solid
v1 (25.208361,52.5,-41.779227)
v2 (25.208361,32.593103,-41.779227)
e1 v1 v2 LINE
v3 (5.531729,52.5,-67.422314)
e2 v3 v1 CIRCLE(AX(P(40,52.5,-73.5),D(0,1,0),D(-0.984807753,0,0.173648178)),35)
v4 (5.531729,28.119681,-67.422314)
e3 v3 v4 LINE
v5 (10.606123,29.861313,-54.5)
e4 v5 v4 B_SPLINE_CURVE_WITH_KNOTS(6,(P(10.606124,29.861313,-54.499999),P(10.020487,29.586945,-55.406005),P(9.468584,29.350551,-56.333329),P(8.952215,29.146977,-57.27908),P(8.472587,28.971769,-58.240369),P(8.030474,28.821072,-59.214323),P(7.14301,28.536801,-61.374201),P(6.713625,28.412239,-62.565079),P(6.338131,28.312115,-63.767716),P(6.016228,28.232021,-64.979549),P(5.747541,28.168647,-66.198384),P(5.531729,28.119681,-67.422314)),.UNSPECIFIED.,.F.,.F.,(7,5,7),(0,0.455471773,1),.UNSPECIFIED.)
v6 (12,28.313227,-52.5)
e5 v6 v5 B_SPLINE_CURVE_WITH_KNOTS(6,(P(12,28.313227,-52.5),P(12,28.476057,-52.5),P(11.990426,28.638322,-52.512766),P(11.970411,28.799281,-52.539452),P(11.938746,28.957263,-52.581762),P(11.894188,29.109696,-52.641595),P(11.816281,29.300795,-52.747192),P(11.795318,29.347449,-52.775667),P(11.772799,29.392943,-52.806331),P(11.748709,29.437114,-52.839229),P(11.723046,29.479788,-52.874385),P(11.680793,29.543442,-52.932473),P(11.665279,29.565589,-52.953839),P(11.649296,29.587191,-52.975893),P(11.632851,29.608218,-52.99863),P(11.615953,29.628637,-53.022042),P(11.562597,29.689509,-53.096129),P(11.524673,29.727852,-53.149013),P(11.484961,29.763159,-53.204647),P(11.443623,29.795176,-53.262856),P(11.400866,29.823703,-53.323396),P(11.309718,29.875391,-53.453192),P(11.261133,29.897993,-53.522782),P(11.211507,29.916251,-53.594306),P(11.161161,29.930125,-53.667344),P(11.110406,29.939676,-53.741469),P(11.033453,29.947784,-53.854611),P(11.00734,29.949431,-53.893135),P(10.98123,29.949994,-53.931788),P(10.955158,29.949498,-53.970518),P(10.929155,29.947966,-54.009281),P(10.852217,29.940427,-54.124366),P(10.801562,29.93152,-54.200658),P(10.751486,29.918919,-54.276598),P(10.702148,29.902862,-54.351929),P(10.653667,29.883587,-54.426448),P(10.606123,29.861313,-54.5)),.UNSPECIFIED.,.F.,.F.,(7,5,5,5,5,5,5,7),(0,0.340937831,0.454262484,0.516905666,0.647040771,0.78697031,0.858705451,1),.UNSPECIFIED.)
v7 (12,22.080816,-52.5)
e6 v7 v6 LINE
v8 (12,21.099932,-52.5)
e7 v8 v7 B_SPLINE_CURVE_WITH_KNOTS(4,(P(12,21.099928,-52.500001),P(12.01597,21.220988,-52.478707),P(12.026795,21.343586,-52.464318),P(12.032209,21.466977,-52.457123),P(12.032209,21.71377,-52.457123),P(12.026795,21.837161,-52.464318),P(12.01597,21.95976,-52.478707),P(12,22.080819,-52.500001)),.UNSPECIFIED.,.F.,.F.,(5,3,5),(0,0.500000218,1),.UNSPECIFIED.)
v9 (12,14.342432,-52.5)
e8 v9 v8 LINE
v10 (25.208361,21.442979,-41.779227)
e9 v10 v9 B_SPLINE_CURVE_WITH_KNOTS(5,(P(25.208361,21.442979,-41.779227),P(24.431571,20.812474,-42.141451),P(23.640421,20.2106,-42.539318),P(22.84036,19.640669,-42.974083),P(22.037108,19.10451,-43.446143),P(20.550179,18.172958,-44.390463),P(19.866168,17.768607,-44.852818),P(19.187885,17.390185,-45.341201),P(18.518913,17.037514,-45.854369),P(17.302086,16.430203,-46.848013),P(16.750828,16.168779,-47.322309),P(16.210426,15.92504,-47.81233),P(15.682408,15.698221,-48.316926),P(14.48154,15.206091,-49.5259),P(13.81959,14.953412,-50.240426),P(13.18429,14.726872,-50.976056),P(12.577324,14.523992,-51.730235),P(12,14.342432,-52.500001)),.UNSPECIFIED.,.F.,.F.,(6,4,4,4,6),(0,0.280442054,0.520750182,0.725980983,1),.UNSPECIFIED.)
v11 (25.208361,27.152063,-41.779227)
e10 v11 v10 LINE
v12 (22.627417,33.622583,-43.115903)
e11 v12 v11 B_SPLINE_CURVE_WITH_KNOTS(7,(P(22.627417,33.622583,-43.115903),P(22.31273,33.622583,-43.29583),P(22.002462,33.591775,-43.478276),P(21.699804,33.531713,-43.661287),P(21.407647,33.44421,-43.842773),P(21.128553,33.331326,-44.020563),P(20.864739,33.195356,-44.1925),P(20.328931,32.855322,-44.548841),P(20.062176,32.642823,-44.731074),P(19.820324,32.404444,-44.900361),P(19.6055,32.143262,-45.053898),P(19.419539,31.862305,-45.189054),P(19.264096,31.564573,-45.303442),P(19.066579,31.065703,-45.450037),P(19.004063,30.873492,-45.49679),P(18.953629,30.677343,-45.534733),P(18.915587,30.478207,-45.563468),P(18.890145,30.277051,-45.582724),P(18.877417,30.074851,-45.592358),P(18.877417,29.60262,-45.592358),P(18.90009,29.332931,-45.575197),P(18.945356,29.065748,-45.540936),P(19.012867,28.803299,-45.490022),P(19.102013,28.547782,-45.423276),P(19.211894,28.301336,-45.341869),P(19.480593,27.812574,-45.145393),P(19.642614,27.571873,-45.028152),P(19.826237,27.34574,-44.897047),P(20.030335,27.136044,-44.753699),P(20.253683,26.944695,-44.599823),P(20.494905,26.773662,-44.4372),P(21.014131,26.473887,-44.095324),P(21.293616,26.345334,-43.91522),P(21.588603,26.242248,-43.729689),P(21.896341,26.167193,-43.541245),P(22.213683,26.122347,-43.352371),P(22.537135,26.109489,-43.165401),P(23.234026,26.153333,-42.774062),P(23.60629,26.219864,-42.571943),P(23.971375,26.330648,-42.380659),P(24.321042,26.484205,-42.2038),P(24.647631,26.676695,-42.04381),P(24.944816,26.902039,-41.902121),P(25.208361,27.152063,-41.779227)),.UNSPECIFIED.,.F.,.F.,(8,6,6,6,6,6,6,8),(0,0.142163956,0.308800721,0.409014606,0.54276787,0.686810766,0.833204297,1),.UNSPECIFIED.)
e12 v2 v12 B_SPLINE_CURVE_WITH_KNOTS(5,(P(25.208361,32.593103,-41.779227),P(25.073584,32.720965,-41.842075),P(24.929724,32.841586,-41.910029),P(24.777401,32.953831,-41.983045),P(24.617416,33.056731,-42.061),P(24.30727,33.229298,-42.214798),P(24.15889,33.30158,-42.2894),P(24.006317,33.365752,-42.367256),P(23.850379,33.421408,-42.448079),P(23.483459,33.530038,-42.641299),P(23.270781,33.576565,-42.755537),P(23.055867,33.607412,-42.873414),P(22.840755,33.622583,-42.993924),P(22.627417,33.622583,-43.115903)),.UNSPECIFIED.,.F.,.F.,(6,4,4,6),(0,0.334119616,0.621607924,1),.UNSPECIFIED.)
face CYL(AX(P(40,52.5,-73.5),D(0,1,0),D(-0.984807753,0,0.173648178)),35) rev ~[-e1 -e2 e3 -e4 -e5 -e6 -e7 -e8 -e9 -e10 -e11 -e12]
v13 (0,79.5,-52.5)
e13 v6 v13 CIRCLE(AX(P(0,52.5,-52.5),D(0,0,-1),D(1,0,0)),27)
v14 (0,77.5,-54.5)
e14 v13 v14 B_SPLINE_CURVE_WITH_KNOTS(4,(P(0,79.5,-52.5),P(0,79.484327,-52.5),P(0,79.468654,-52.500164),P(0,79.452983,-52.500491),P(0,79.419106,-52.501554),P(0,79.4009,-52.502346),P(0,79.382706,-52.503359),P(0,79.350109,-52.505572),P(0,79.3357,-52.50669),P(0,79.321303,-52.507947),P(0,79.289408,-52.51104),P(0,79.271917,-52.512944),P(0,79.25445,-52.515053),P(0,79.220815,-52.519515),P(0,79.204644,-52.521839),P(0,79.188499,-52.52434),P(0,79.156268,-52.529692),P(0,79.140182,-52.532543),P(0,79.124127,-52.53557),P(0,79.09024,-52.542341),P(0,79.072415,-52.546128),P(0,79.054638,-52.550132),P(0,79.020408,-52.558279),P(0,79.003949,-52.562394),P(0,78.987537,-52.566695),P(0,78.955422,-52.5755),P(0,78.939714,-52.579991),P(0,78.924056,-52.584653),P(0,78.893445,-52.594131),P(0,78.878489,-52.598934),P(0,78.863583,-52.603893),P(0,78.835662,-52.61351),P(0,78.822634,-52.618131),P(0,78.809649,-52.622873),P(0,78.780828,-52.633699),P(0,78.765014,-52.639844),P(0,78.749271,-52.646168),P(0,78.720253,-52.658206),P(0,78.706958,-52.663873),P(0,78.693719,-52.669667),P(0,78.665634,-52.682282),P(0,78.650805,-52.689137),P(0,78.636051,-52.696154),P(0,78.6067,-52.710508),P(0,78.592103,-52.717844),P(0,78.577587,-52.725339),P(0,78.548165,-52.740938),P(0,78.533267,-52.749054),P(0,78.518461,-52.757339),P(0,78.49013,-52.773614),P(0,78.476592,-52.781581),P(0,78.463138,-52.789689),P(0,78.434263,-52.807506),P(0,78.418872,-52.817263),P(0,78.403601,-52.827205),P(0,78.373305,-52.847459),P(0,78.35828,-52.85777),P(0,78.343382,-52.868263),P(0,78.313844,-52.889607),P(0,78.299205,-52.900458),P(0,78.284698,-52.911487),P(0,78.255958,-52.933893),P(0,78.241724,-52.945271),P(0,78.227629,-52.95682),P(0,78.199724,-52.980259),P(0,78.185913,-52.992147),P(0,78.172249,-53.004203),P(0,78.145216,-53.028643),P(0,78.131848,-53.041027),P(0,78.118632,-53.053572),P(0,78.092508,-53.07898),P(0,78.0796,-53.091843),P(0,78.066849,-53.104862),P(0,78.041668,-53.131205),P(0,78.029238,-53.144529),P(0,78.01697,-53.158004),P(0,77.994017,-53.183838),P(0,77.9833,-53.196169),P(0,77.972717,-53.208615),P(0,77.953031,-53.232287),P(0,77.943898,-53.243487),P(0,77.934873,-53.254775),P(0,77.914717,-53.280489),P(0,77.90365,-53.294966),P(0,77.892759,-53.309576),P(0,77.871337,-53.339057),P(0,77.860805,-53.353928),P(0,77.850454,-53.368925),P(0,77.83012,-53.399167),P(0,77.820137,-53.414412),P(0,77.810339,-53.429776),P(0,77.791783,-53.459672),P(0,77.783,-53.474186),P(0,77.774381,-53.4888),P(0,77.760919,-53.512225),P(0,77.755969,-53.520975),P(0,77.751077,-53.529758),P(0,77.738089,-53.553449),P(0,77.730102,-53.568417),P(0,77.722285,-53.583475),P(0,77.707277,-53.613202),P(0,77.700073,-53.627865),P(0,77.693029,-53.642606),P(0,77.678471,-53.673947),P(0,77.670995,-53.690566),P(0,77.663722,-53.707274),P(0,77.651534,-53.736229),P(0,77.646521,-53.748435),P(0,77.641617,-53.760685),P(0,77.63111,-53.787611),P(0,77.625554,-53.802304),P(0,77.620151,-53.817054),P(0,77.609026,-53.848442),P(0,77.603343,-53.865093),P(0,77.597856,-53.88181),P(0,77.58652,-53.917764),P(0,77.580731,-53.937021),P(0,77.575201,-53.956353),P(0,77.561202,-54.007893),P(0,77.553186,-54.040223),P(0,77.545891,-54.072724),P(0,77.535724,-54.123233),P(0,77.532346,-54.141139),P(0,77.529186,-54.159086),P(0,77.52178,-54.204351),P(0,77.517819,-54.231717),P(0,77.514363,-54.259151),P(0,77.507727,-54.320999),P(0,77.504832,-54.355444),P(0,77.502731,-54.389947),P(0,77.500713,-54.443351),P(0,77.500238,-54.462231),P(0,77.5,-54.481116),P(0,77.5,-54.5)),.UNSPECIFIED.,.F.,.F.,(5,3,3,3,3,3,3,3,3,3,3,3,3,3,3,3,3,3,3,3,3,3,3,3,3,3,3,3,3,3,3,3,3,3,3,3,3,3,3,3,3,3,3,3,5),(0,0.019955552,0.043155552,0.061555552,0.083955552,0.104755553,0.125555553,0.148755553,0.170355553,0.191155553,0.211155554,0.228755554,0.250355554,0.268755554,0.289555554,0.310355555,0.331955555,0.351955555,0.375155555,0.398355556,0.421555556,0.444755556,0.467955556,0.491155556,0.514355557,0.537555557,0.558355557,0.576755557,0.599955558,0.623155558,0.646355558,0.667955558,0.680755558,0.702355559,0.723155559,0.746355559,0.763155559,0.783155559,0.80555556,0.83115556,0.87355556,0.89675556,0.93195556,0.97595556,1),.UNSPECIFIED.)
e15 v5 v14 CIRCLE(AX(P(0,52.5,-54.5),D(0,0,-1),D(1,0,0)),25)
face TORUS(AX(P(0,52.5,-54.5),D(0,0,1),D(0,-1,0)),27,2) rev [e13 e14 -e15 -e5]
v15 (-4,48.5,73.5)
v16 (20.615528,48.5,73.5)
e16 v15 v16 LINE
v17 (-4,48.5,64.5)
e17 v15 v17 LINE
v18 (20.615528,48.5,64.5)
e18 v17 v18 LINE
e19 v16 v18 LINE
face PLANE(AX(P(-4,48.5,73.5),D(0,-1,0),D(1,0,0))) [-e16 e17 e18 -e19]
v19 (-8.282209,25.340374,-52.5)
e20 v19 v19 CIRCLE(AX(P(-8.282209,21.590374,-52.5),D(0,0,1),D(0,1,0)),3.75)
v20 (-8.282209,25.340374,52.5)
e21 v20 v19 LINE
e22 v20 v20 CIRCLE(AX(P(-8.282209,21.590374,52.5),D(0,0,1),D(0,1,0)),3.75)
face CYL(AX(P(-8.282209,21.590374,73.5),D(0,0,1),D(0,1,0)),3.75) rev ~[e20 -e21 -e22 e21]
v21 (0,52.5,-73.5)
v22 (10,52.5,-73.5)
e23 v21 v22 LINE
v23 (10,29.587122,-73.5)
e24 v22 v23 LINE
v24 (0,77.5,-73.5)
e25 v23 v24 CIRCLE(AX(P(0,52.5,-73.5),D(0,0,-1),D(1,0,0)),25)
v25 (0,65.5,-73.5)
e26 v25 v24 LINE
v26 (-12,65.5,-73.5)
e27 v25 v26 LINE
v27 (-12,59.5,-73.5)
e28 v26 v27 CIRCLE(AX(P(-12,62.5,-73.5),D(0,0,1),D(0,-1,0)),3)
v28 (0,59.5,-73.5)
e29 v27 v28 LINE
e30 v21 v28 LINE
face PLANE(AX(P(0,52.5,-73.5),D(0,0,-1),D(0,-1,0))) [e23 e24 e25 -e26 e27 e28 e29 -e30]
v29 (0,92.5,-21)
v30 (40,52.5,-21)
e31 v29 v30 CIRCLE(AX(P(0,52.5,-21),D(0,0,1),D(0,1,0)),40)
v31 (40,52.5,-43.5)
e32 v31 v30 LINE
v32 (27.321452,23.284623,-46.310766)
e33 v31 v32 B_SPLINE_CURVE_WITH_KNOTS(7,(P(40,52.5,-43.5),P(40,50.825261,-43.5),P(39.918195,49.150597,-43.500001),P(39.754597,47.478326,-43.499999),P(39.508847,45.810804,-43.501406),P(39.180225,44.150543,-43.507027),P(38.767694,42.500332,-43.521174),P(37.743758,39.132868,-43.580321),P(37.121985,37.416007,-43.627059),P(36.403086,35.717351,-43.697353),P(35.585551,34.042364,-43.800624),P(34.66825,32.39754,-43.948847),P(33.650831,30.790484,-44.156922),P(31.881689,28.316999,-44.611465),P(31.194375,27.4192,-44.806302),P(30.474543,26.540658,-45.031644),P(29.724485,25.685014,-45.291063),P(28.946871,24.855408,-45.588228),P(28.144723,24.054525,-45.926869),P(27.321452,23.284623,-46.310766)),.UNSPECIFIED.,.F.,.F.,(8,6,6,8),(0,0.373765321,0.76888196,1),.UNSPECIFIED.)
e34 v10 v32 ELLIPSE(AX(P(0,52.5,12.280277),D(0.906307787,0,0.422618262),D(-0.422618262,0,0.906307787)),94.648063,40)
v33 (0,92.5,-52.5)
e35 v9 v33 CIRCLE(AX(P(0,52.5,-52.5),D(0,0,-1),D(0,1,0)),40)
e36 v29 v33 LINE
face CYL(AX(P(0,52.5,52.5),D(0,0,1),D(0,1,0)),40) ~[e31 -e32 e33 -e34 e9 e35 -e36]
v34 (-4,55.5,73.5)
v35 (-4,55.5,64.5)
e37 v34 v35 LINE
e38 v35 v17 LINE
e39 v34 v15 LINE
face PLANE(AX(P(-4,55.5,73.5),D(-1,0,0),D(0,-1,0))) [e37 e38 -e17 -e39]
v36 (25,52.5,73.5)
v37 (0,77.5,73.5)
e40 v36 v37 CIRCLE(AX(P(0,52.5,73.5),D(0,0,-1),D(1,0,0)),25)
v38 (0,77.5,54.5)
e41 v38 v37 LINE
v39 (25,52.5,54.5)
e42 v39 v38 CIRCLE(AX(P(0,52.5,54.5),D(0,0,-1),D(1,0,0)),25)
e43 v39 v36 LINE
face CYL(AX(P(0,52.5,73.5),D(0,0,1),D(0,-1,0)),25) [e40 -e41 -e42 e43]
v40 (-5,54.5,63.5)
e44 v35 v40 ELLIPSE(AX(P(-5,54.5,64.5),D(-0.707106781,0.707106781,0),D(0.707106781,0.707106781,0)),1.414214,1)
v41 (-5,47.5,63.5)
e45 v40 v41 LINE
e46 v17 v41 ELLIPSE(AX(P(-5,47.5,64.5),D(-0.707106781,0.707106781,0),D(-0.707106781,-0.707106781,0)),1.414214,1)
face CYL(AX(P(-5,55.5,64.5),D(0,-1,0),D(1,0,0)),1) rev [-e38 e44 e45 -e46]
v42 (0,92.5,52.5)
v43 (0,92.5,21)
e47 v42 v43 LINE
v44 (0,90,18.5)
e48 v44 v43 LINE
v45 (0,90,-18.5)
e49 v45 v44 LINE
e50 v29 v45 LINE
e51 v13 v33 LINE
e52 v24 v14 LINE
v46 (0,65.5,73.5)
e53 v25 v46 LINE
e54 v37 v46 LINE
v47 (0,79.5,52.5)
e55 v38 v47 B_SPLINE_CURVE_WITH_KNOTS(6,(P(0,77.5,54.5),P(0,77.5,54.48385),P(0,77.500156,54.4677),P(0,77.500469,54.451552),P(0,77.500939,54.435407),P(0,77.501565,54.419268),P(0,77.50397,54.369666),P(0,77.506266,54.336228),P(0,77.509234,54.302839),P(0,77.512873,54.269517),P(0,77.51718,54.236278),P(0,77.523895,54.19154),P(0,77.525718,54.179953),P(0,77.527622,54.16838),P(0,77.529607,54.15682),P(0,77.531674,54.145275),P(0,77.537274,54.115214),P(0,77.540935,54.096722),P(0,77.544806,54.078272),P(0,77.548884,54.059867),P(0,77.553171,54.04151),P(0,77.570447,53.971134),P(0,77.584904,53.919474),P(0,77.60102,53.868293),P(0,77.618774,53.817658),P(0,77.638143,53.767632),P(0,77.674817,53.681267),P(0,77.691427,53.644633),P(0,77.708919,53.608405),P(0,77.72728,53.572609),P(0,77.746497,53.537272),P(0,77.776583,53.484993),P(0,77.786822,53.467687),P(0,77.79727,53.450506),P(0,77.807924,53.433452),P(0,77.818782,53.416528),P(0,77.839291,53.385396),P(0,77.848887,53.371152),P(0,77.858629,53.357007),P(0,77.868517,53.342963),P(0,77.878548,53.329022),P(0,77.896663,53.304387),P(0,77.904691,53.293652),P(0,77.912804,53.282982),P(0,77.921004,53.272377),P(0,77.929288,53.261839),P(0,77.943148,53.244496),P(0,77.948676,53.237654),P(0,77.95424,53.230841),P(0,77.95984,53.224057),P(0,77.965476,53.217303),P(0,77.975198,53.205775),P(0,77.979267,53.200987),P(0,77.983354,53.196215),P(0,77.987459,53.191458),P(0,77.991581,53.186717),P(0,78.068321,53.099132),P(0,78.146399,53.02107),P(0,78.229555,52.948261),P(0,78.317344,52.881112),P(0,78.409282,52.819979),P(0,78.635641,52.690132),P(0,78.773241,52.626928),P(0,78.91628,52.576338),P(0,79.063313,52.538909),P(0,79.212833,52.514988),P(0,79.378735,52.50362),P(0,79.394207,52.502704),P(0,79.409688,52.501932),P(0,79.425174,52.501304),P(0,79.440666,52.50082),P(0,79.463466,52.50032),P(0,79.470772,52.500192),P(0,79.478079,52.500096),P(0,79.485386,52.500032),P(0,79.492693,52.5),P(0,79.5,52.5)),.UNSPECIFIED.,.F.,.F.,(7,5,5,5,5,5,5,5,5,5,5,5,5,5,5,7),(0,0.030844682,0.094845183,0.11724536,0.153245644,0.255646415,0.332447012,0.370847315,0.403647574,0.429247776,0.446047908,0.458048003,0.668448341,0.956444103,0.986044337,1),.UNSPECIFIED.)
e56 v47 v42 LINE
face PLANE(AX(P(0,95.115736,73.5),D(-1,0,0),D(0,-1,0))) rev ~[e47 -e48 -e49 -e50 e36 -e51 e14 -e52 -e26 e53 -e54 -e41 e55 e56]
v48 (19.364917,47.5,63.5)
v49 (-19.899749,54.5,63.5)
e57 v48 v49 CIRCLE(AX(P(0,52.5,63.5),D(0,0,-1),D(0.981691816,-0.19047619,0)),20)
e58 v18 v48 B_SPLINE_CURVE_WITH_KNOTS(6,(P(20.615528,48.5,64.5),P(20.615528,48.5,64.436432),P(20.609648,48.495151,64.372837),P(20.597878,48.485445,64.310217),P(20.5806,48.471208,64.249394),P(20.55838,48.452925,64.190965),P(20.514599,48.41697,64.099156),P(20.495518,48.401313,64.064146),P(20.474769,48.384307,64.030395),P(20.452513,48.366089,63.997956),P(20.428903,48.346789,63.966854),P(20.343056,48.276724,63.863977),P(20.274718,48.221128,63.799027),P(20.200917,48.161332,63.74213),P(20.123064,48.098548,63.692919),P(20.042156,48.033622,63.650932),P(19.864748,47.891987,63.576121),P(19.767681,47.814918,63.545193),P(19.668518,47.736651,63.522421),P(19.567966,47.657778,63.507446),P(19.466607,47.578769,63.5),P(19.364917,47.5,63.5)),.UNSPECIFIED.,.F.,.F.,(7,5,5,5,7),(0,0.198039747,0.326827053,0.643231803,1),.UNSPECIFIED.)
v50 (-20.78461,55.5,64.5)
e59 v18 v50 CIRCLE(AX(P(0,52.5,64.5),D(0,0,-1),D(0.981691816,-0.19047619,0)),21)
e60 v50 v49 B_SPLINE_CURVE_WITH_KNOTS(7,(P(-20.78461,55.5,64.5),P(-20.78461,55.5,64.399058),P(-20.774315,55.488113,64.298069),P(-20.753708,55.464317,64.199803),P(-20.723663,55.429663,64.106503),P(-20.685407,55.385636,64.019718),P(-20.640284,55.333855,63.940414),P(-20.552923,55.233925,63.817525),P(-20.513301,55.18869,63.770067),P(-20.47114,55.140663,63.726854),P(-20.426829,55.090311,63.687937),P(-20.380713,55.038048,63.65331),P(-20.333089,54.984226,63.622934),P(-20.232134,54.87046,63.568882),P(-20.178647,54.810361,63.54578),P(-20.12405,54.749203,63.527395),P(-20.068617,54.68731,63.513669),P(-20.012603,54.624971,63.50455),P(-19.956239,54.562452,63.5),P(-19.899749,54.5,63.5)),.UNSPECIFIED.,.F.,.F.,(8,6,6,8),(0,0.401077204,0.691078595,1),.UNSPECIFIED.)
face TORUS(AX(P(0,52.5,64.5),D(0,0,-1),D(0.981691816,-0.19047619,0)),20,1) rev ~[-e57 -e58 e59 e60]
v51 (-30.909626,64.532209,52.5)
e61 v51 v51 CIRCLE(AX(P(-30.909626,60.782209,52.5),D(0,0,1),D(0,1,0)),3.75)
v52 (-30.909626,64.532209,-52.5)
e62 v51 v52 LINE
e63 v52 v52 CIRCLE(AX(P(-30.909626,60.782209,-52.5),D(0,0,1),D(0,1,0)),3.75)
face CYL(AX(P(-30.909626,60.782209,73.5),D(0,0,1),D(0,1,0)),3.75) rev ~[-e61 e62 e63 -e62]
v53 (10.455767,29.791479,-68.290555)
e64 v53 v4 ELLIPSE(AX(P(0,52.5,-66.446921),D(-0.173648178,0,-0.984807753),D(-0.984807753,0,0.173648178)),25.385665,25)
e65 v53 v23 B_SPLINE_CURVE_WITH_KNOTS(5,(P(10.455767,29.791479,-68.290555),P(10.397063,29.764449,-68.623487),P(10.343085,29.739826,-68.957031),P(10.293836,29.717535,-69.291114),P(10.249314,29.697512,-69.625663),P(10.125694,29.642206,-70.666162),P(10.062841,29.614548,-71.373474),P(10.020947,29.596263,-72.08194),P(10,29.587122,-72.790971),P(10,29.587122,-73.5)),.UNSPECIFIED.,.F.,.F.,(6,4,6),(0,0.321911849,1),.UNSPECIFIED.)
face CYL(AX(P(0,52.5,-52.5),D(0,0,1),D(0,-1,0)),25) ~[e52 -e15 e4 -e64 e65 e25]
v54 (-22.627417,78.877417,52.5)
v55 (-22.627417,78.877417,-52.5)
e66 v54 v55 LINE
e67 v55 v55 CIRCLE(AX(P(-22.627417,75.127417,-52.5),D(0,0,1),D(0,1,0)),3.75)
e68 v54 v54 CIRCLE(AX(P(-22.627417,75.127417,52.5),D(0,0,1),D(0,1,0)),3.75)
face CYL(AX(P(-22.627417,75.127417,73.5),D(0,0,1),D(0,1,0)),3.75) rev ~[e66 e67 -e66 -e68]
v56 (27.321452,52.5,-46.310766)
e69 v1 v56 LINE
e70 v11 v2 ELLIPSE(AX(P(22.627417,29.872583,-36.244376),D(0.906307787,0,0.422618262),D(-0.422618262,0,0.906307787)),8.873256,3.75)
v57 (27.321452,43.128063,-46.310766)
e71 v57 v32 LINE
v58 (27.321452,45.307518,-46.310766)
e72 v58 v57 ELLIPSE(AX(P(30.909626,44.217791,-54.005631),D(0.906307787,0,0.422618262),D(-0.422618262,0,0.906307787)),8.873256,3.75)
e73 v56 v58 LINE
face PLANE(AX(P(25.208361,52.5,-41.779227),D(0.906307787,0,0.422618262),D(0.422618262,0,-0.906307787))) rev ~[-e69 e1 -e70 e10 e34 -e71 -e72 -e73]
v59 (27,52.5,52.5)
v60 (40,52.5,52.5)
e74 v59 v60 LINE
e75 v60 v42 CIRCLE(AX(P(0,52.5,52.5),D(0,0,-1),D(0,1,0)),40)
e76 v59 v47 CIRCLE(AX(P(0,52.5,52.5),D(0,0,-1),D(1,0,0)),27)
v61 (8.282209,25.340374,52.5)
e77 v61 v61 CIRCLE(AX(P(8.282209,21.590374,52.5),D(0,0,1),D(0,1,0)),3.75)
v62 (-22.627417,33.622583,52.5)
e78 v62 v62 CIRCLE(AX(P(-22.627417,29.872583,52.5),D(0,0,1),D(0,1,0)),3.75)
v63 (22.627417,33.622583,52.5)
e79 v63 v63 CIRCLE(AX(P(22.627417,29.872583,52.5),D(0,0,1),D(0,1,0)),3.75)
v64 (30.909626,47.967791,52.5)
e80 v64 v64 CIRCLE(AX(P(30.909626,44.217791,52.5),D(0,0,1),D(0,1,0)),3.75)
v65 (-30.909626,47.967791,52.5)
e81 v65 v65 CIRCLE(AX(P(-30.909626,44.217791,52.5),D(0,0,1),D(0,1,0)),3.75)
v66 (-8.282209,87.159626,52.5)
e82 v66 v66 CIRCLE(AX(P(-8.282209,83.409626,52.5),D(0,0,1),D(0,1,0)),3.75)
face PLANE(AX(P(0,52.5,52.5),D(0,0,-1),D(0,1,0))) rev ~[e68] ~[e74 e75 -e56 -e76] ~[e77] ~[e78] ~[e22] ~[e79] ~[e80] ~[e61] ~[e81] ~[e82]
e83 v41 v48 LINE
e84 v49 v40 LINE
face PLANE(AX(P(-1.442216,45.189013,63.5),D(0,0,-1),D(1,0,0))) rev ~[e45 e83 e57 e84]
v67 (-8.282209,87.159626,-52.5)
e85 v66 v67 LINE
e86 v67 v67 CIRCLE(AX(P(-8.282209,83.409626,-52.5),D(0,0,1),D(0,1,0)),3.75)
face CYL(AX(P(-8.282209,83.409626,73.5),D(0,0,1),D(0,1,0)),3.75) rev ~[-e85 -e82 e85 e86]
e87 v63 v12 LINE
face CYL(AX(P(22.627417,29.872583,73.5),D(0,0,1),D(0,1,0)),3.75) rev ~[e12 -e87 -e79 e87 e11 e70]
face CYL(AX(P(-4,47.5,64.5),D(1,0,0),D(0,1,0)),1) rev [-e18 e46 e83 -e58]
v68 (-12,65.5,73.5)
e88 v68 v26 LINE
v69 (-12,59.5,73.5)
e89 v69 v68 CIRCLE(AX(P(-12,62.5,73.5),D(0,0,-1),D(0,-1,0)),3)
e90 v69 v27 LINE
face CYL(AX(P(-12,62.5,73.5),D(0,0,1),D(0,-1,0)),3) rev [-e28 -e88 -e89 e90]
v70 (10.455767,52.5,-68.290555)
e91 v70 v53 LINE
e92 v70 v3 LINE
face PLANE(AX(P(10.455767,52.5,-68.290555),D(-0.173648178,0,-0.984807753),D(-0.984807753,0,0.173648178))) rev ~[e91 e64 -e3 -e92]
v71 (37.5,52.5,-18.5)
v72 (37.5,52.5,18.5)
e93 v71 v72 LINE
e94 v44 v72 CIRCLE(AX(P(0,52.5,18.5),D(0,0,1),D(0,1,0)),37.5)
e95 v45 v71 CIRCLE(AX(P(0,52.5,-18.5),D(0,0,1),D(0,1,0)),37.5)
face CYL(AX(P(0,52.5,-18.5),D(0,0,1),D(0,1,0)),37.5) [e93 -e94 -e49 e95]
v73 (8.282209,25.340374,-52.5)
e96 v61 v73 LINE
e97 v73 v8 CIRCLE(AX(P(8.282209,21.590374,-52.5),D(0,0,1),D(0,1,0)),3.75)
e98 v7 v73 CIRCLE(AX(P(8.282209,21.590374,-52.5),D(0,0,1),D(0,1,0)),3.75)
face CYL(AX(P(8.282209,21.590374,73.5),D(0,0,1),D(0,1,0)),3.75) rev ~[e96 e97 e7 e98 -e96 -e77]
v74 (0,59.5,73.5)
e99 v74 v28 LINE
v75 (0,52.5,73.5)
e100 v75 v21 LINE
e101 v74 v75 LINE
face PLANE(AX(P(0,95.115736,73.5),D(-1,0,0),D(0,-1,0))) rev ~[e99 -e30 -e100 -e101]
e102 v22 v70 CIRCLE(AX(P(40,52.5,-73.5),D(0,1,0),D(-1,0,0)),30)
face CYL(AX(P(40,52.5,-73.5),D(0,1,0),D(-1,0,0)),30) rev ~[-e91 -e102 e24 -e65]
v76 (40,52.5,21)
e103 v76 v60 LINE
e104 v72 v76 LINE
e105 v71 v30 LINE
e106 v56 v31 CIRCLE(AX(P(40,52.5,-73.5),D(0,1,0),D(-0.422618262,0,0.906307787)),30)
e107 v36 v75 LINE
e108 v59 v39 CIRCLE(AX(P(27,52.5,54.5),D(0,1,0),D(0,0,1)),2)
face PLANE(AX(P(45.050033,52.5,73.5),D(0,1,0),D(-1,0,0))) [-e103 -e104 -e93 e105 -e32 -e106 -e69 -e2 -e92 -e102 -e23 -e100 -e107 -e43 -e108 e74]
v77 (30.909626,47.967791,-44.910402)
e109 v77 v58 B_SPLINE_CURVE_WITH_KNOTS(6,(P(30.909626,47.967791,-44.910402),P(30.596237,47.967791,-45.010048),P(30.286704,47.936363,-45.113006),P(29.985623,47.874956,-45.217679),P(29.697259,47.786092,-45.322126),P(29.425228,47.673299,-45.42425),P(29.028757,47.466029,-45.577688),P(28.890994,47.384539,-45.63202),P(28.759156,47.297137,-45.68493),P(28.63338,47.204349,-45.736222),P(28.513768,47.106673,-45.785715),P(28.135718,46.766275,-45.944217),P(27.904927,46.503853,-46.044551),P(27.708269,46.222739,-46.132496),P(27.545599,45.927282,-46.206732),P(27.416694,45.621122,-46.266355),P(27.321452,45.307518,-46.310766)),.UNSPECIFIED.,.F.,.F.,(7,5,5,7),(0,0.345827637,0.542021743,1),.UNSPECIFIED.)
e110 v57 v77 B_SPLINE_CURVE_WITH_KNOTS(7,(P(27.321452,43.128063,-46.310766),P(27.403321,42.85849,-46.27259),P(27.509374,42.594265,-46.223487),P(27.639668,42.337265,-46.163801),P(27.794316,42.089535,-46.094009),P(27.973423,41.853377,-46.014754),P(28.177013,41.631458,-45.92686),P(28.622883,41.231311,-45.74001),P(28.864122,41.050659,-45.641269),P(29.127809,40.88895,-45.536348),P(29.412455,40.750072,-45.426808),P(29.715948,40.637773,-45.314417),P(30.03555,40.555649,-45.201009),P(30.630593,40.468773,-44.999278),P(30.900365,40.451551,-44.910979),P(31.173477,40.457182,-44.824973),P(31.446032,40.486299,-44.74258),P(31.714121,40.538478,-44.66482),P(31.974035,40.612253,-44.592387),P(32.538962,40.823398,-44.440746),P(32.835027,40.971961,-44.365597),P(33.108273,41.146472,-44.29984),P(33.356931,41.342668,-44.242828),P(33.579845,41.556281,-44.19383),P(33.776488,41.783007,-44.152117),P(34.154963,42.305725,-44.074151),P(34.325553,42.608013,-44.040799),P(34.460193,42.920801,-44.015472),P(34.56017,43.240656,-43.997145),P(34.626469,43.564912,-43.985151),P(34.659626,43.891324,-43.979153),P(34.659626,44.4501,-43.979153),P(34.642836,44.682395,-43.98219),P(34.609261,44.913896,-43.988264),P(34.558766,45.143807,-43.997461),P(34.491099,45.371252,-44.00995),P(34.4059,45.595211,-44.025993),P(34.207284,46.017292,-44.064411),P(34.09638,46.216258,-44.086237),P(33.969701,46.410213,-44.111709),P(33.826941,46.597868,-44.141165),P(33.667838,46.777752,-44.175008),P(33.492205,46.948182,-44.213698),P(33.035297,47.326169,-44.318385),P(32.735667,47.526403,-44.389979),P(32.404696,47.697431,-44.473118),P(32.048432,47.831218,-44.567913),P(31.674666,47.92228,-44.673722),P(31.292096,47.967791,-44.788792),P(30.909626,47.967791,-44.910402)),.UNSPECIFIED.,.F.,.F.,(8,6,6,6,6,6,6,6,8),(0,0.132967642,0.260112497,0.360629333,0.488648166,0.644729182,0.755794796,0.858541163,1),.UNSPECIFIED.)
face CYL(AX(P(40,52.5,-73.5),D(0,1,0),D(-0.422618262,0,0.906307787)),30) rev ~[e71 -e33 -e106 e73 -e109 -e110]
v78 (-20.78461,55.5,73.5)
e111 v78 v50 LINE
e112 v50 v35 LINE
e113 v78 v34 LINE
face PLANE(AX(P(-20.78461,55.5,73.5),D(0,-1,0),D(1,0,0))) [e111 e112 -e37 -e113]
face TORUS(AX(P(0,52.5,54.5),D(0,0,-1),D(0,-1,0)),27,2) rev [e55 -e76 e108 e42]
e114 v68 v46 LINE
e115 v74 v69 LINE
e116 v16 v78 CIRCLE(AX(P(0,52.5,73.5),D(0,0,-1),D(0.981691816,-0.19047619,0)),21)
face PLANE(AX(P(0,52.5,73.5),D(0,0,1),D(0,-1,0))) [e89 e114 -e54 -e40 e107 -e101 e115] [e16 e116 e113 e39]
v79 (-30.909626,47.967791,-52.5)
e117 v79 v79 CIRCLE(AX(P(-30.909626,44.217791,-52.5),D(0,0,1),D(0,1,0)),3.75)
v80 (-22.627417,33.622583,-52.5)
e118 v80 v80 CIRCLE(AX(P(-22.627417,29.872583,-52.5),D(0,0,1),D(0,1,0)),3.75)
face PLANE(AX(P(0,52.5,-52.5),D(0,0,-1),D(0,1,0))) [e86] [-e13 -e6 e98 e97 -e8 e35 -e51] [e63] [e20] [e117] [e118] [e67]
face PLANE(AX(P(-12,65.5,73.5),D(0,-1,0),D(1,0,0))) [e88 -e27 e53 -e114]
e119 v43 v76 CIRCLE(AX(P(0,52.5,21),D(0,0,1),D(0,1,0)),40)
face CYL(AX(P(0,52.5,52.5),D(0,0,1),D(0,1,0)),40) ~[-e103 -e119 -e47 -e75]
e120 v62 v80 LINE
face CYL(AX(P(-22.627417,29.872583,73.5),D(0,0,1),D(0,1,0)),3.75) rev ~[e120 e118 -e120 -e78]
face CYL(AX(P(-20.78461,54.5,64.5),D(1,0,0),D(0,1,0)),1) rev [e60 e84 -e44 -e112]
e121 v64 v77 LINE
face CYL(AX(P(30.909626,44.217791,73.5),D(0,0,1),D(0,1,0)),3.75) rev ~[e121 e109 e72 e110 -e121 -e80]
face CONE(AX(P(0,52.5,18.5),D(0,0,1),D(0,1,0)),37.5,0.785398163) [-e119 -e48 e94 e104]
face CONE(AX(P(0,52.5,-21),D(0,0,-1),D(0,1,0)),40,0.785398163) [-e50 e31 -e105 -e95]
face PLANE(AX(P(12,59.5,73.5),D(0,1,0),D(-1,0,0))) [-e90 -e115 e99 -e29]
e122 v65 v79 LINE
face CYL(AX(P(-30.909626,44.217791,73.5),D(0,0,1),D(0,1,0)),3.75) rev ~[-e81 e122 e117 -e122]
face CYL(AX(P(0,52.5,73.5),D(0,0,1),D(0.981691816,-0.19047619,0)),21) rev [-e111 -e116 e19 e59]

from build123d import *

# Parameters (mm, degrees)
SKETCH1_R             = 40
BOSS_EXTRUDE1_DEPTH   = 105
SKETCH2_R             = 25
BOSS_EXTRUDE2_DEPTH   = 21
BOSS_EXTRUDE3_START   = 21
SKETCH3_R             = 25
BOSS_EXTRUDE3_DEPTH   = 21
FILLET1_R             = 2
SKETCH5_W             = 45.050033199
SKETCH5_H             = 42.615736352
CUT_EXTRUDE1_DEPTH    = 158.508729917
CUT_EXTRUDE2_DEPTH    = 158.508729917
SKETCH8_R             = 3.75
CUT_EXTRUDE3_DEPTH    = 158.508729917
CUT_EXTRUDE4_DEPTH    = 139.115893365
CUT_EXTRUDE5_DEPTH    = 10
FILLET2_R             = 1
BODY_MOVE_COPY1_ANGLE = 90


with BuildPart() as part:
    # Sketch1 → Boss-Extrude1 (new body)
    with BuildSketch(Plane(origin=(0, 0, 0), x_dir=(1, 0, 0), z_dir=(0, 1, 0))):
        with Locations(Location((0, 0, 0), (0, 0, 270))):
            Circle(SKETCH1_R)
    extrude(amount=BOSS_EXTRUDE1_DEPTH)

    # Sketch2 → Boss-Extrude2 (add)
    with BuildSketch(Plane(origin=(0, 105, 0), x_dir=(1, 0, 0), z_dir=(0, 1, 0))):
        with Locations(Location((0, 0, 0), (0, 0, 90))):
            Circle(SKETCH2_R)
    extrude(amount=BOSS_EXTRUDE2_DEPTH)

    # Sketch3 → Boss-Extrude3 (add)
    with BuildSketch(Plane(origin=(0, 0, 0), x_dir=(-1, 0, 0), z_dir=(0, -1, 0)).offset(BOSS_EXTRUDE3_START)):
        with Locations(Location((0, 0, 0), (0, 0, 90))):
            Circle(SKETCH3_R)
    extrude(amount=-BOSS_EXTRUDE3_DEPTH)

    # Fillet1
    fillet1_edges = [part.edges().sort_by_distance(p)[0] for p in [
        (0, 0, 25),
        (0, 105, 25),
    ]]
    fillet(fillet1_edges, radius=FILLET1_R)

    # Sketch4 → Cut-Revolve1 (revolve, cut)
    with BuildSketch(Plane(origin=(0, 0, 0), x_dir=(0, 0, -1), z_dir=(1, 0, 0)), mode=Mode.PRIVATE) as cut_revolve1_sk:
        Polygon((40, 73.5), (37.5, 71), (37.5, 34), (40, 31.5), align=None)
    revolve(cut_revolve1_sk.sketch.rotate(Axis((0, 105, 0), (0, -1, 0)), 180), axis=Axis((0, 105, 0), (0, -1, 0)), mode=Mode.SUBTRACT)

    # Sketch5 → Cut-Extrude1 (cut, through all)
    with BuildSketch(Plane(origin=(0, -21, 0), x_dir=(-1, 0, 0), z_dir=(0, -1, 0))):
        with Locations((-22.5250166, -21.307868176)):
            Rectangle(SKETCH5_W, SKETCH5_H)
    extrude(amount=-CUT_EXTRUDE1_DEPTH, mode=Mode.SUBTRACT)

    # Sketch7 → Cut-Extrude2 (cut, through all)
    with BuildSketch(Plane(origin=(0, -21, 0), x_dir=(-1, 0, 0), z_dir=(0, -1, 0))):
        with BuildLine():
            Line((12, -13), (-12, -13))
            ThreePointArc((-12, -13), (-15, -10), (-12, -7))
            Line((-12, -7), (12, -7))
            ThreePointArc((12, -7), (15, -10), (12, -13))
        make_face()
    extrude(amount=-CUT_EXTRUDE2_DEPTH, mode=Mode.SUBTRACT)

    # Sketch8 → Cut-Extrude3 (cut, through all)
    with BuildSketch(Plane(origin=(0, -21, 0), x_dir=(-1, 0, 0), z_dir=(0, -1, 0))):
        with Locations(Location((8.282209443, -30.909626441, 0), (0, 0, 270))):
            Circle(SKETCH8_R)
        with Locations((-8.282209443, -30.909626441)):
            Circle(SKETCH8_R)
        with Locations((-22.627416998, -22.627416998)):
            Circle(SKETCH8_R)
        with Locations((-30.909626441, -8.282209443)):
            Circle(SKETCH8_R)
        with Locations(Location((-30.909626441, 8.282209443, 0), (0, 0, 270))):
            Circle(SKETCH8_R)
        with Locations(Location((-22.627416998, 22.627416998, 0), (0, 0, 270))):
            Circle(SKETCH8_R)
        with Locations(Location((-8.282209443, 30.909626441, 0), (0, 0, 270))):
            Circle(SKETCH8_R)
        with Locations(Location((8.282209443, 30.909626441, 0), (0, 0, 270))):
            Circle(SKETCH8_R)
        with Locations(Location((22.627416998, 22.627416998, 0), (0, 0, 270))):
            Circle(SKETCH8_R)
        with Locations(Location((30.909626441, 8.282209443, 0), (0, 0, 270))):
            Circle(SKETCH8_R)
        with Locations(Location((30.909626441, -8.282209443, 0), (0, 0, 270))):
            Circle(SKETCH8_R)
        with Locations(Location((22.627416998, -22.627416998, 0), (0, 0, 270))):
            Circle(SKETCH8_R)
    extrude(amount=-CUT_EXTRUDE3_DEPTH, mode=Mode.SUBTRACT)

    # Sketch9 → Cut-Extrude4 (cut, through all)
    with BuildSketch(Plane.XY):
        with BuildLine():
            Line((25, 123.355095289), (40, 126))
            Line((40, 126), (30.207539179, 105))
            Line((30.207539179, 105), (40, 105))
            Line((40, 105), (40, 96))
            ThreePointArc((40, 96), (61.213203436, 104.786796564), (70, 126))
            ThreePointArc((70, 126), (40, 156), (10, 126))
            Line((10, 126), (25, 126))
            Line((25, 126), (25, 123.355095289))
        make_face()
        with BuildLine():
            Line((30.207539179, 105), (40, 126))
            Line((40, 126), (25, 123.355095289))
            Line((25, 123.355095289), (25, 107))
            ThreePointArc((25, 107), (25.585786438, 105.585786438), (27, 105))
            Line((27, 105), (30.207539179, 105))
        make_face()
        with BuildLine():
            ThreePointArc((27.321452148, 98.810766389), (16.199399791, 107.73715713), (10.45576741, 120.79055467))
            Line((10.45576741, 120.79055467), (5.531728645, 119.922313782))
            ThreePointArc((5.531728645, 119.922313782), (12.23263309, 104.693349985), (25.208360839, 94.279227454))
            Line((25.208360839, 94.279227454), (27.321452148, 98.810766389))
        make_face()
        with BuildLine():
            Line((25, 107), (25, 123.355095289))
            Line((25, 123.355095289), (10.45576741, 120.79055467))
            ThreePointArc((10.45576741, 120.79055467), (16.199399791, 107.73715713), (27.321452148, 98.810766389))
            Line((27.321452148, 98.810766389), (30.207539179, 105))
            Line((30.207539179, 105), (27, 105))
            ThreePointArc((27, 105), (25.585786438, 105.585786438), (25, 107))
        make_face()
        with BuildLine():
            Line((10.45576741, 120.79055467), (25, 123.355095289))
            Line((25, 123.355095289), (25, 126))
            Line((25, 126), (10, 126))
            ThreePointArc((10, 126), (10.114159057, 123.385327718), (10.45576741, 120.79055467))
        make_face()
        with BuildLine():
            Line((40, 105), (30.207539179, 105))
            Line((30.207539179, 105), (27.321452148, 98.810766389))
            ThreePointArc((27.321452148, 98.810766389), (33.506811582, 96.711119786), (40, 96))
            Line((40, 96), (40, 105))
        make_face()
    extrude(amount=-CUT_EXTRUDE4_DEPTH, mode=Mode.SUBTRACT)

    # Sketch10 → Cut-Extrude5 (cut)
    with BuildSketch(Plane(origin=(0, -21, 0), x_dir=(-1, 0, 0), z_dir=(0, -1, 0))):
        with BuildLine():
            Line((4, -3), (4, 4))
            Line((4, 4), (-20.615528128, 4))
            ThreePointArc((-20.615528128, 4), (3.501020872, 20.706106656), (20.784609691, -3))
            Line((20.784609691, -3), (4, -3))
        make_face()
    extrude(amount=-CUT_EXTRUDE5_DEPTH, mode=Mode.SUBTRACT)

    # Fillet2
    fillet2_edges = [part.edges().sort_by_distance(p)[0] for p in [
        (-12.392304845, -11, 3),
        (-4, -11, -0.5),
        (8.307764064, -11, -4),
        (-3.501020872, -11, -20.706106656),
    ]]
    fillet(fillet2_edges, radius=FILLET2_R)


with BuildPart() as part_1:
    # Body-Move/Copy1: moved
    add(part.part.rotate(Axis((0, 52.5, 0), (-1, 0, 0)), BODY_MOVE_COPY1_ANGLE))


solid = part_1.part
